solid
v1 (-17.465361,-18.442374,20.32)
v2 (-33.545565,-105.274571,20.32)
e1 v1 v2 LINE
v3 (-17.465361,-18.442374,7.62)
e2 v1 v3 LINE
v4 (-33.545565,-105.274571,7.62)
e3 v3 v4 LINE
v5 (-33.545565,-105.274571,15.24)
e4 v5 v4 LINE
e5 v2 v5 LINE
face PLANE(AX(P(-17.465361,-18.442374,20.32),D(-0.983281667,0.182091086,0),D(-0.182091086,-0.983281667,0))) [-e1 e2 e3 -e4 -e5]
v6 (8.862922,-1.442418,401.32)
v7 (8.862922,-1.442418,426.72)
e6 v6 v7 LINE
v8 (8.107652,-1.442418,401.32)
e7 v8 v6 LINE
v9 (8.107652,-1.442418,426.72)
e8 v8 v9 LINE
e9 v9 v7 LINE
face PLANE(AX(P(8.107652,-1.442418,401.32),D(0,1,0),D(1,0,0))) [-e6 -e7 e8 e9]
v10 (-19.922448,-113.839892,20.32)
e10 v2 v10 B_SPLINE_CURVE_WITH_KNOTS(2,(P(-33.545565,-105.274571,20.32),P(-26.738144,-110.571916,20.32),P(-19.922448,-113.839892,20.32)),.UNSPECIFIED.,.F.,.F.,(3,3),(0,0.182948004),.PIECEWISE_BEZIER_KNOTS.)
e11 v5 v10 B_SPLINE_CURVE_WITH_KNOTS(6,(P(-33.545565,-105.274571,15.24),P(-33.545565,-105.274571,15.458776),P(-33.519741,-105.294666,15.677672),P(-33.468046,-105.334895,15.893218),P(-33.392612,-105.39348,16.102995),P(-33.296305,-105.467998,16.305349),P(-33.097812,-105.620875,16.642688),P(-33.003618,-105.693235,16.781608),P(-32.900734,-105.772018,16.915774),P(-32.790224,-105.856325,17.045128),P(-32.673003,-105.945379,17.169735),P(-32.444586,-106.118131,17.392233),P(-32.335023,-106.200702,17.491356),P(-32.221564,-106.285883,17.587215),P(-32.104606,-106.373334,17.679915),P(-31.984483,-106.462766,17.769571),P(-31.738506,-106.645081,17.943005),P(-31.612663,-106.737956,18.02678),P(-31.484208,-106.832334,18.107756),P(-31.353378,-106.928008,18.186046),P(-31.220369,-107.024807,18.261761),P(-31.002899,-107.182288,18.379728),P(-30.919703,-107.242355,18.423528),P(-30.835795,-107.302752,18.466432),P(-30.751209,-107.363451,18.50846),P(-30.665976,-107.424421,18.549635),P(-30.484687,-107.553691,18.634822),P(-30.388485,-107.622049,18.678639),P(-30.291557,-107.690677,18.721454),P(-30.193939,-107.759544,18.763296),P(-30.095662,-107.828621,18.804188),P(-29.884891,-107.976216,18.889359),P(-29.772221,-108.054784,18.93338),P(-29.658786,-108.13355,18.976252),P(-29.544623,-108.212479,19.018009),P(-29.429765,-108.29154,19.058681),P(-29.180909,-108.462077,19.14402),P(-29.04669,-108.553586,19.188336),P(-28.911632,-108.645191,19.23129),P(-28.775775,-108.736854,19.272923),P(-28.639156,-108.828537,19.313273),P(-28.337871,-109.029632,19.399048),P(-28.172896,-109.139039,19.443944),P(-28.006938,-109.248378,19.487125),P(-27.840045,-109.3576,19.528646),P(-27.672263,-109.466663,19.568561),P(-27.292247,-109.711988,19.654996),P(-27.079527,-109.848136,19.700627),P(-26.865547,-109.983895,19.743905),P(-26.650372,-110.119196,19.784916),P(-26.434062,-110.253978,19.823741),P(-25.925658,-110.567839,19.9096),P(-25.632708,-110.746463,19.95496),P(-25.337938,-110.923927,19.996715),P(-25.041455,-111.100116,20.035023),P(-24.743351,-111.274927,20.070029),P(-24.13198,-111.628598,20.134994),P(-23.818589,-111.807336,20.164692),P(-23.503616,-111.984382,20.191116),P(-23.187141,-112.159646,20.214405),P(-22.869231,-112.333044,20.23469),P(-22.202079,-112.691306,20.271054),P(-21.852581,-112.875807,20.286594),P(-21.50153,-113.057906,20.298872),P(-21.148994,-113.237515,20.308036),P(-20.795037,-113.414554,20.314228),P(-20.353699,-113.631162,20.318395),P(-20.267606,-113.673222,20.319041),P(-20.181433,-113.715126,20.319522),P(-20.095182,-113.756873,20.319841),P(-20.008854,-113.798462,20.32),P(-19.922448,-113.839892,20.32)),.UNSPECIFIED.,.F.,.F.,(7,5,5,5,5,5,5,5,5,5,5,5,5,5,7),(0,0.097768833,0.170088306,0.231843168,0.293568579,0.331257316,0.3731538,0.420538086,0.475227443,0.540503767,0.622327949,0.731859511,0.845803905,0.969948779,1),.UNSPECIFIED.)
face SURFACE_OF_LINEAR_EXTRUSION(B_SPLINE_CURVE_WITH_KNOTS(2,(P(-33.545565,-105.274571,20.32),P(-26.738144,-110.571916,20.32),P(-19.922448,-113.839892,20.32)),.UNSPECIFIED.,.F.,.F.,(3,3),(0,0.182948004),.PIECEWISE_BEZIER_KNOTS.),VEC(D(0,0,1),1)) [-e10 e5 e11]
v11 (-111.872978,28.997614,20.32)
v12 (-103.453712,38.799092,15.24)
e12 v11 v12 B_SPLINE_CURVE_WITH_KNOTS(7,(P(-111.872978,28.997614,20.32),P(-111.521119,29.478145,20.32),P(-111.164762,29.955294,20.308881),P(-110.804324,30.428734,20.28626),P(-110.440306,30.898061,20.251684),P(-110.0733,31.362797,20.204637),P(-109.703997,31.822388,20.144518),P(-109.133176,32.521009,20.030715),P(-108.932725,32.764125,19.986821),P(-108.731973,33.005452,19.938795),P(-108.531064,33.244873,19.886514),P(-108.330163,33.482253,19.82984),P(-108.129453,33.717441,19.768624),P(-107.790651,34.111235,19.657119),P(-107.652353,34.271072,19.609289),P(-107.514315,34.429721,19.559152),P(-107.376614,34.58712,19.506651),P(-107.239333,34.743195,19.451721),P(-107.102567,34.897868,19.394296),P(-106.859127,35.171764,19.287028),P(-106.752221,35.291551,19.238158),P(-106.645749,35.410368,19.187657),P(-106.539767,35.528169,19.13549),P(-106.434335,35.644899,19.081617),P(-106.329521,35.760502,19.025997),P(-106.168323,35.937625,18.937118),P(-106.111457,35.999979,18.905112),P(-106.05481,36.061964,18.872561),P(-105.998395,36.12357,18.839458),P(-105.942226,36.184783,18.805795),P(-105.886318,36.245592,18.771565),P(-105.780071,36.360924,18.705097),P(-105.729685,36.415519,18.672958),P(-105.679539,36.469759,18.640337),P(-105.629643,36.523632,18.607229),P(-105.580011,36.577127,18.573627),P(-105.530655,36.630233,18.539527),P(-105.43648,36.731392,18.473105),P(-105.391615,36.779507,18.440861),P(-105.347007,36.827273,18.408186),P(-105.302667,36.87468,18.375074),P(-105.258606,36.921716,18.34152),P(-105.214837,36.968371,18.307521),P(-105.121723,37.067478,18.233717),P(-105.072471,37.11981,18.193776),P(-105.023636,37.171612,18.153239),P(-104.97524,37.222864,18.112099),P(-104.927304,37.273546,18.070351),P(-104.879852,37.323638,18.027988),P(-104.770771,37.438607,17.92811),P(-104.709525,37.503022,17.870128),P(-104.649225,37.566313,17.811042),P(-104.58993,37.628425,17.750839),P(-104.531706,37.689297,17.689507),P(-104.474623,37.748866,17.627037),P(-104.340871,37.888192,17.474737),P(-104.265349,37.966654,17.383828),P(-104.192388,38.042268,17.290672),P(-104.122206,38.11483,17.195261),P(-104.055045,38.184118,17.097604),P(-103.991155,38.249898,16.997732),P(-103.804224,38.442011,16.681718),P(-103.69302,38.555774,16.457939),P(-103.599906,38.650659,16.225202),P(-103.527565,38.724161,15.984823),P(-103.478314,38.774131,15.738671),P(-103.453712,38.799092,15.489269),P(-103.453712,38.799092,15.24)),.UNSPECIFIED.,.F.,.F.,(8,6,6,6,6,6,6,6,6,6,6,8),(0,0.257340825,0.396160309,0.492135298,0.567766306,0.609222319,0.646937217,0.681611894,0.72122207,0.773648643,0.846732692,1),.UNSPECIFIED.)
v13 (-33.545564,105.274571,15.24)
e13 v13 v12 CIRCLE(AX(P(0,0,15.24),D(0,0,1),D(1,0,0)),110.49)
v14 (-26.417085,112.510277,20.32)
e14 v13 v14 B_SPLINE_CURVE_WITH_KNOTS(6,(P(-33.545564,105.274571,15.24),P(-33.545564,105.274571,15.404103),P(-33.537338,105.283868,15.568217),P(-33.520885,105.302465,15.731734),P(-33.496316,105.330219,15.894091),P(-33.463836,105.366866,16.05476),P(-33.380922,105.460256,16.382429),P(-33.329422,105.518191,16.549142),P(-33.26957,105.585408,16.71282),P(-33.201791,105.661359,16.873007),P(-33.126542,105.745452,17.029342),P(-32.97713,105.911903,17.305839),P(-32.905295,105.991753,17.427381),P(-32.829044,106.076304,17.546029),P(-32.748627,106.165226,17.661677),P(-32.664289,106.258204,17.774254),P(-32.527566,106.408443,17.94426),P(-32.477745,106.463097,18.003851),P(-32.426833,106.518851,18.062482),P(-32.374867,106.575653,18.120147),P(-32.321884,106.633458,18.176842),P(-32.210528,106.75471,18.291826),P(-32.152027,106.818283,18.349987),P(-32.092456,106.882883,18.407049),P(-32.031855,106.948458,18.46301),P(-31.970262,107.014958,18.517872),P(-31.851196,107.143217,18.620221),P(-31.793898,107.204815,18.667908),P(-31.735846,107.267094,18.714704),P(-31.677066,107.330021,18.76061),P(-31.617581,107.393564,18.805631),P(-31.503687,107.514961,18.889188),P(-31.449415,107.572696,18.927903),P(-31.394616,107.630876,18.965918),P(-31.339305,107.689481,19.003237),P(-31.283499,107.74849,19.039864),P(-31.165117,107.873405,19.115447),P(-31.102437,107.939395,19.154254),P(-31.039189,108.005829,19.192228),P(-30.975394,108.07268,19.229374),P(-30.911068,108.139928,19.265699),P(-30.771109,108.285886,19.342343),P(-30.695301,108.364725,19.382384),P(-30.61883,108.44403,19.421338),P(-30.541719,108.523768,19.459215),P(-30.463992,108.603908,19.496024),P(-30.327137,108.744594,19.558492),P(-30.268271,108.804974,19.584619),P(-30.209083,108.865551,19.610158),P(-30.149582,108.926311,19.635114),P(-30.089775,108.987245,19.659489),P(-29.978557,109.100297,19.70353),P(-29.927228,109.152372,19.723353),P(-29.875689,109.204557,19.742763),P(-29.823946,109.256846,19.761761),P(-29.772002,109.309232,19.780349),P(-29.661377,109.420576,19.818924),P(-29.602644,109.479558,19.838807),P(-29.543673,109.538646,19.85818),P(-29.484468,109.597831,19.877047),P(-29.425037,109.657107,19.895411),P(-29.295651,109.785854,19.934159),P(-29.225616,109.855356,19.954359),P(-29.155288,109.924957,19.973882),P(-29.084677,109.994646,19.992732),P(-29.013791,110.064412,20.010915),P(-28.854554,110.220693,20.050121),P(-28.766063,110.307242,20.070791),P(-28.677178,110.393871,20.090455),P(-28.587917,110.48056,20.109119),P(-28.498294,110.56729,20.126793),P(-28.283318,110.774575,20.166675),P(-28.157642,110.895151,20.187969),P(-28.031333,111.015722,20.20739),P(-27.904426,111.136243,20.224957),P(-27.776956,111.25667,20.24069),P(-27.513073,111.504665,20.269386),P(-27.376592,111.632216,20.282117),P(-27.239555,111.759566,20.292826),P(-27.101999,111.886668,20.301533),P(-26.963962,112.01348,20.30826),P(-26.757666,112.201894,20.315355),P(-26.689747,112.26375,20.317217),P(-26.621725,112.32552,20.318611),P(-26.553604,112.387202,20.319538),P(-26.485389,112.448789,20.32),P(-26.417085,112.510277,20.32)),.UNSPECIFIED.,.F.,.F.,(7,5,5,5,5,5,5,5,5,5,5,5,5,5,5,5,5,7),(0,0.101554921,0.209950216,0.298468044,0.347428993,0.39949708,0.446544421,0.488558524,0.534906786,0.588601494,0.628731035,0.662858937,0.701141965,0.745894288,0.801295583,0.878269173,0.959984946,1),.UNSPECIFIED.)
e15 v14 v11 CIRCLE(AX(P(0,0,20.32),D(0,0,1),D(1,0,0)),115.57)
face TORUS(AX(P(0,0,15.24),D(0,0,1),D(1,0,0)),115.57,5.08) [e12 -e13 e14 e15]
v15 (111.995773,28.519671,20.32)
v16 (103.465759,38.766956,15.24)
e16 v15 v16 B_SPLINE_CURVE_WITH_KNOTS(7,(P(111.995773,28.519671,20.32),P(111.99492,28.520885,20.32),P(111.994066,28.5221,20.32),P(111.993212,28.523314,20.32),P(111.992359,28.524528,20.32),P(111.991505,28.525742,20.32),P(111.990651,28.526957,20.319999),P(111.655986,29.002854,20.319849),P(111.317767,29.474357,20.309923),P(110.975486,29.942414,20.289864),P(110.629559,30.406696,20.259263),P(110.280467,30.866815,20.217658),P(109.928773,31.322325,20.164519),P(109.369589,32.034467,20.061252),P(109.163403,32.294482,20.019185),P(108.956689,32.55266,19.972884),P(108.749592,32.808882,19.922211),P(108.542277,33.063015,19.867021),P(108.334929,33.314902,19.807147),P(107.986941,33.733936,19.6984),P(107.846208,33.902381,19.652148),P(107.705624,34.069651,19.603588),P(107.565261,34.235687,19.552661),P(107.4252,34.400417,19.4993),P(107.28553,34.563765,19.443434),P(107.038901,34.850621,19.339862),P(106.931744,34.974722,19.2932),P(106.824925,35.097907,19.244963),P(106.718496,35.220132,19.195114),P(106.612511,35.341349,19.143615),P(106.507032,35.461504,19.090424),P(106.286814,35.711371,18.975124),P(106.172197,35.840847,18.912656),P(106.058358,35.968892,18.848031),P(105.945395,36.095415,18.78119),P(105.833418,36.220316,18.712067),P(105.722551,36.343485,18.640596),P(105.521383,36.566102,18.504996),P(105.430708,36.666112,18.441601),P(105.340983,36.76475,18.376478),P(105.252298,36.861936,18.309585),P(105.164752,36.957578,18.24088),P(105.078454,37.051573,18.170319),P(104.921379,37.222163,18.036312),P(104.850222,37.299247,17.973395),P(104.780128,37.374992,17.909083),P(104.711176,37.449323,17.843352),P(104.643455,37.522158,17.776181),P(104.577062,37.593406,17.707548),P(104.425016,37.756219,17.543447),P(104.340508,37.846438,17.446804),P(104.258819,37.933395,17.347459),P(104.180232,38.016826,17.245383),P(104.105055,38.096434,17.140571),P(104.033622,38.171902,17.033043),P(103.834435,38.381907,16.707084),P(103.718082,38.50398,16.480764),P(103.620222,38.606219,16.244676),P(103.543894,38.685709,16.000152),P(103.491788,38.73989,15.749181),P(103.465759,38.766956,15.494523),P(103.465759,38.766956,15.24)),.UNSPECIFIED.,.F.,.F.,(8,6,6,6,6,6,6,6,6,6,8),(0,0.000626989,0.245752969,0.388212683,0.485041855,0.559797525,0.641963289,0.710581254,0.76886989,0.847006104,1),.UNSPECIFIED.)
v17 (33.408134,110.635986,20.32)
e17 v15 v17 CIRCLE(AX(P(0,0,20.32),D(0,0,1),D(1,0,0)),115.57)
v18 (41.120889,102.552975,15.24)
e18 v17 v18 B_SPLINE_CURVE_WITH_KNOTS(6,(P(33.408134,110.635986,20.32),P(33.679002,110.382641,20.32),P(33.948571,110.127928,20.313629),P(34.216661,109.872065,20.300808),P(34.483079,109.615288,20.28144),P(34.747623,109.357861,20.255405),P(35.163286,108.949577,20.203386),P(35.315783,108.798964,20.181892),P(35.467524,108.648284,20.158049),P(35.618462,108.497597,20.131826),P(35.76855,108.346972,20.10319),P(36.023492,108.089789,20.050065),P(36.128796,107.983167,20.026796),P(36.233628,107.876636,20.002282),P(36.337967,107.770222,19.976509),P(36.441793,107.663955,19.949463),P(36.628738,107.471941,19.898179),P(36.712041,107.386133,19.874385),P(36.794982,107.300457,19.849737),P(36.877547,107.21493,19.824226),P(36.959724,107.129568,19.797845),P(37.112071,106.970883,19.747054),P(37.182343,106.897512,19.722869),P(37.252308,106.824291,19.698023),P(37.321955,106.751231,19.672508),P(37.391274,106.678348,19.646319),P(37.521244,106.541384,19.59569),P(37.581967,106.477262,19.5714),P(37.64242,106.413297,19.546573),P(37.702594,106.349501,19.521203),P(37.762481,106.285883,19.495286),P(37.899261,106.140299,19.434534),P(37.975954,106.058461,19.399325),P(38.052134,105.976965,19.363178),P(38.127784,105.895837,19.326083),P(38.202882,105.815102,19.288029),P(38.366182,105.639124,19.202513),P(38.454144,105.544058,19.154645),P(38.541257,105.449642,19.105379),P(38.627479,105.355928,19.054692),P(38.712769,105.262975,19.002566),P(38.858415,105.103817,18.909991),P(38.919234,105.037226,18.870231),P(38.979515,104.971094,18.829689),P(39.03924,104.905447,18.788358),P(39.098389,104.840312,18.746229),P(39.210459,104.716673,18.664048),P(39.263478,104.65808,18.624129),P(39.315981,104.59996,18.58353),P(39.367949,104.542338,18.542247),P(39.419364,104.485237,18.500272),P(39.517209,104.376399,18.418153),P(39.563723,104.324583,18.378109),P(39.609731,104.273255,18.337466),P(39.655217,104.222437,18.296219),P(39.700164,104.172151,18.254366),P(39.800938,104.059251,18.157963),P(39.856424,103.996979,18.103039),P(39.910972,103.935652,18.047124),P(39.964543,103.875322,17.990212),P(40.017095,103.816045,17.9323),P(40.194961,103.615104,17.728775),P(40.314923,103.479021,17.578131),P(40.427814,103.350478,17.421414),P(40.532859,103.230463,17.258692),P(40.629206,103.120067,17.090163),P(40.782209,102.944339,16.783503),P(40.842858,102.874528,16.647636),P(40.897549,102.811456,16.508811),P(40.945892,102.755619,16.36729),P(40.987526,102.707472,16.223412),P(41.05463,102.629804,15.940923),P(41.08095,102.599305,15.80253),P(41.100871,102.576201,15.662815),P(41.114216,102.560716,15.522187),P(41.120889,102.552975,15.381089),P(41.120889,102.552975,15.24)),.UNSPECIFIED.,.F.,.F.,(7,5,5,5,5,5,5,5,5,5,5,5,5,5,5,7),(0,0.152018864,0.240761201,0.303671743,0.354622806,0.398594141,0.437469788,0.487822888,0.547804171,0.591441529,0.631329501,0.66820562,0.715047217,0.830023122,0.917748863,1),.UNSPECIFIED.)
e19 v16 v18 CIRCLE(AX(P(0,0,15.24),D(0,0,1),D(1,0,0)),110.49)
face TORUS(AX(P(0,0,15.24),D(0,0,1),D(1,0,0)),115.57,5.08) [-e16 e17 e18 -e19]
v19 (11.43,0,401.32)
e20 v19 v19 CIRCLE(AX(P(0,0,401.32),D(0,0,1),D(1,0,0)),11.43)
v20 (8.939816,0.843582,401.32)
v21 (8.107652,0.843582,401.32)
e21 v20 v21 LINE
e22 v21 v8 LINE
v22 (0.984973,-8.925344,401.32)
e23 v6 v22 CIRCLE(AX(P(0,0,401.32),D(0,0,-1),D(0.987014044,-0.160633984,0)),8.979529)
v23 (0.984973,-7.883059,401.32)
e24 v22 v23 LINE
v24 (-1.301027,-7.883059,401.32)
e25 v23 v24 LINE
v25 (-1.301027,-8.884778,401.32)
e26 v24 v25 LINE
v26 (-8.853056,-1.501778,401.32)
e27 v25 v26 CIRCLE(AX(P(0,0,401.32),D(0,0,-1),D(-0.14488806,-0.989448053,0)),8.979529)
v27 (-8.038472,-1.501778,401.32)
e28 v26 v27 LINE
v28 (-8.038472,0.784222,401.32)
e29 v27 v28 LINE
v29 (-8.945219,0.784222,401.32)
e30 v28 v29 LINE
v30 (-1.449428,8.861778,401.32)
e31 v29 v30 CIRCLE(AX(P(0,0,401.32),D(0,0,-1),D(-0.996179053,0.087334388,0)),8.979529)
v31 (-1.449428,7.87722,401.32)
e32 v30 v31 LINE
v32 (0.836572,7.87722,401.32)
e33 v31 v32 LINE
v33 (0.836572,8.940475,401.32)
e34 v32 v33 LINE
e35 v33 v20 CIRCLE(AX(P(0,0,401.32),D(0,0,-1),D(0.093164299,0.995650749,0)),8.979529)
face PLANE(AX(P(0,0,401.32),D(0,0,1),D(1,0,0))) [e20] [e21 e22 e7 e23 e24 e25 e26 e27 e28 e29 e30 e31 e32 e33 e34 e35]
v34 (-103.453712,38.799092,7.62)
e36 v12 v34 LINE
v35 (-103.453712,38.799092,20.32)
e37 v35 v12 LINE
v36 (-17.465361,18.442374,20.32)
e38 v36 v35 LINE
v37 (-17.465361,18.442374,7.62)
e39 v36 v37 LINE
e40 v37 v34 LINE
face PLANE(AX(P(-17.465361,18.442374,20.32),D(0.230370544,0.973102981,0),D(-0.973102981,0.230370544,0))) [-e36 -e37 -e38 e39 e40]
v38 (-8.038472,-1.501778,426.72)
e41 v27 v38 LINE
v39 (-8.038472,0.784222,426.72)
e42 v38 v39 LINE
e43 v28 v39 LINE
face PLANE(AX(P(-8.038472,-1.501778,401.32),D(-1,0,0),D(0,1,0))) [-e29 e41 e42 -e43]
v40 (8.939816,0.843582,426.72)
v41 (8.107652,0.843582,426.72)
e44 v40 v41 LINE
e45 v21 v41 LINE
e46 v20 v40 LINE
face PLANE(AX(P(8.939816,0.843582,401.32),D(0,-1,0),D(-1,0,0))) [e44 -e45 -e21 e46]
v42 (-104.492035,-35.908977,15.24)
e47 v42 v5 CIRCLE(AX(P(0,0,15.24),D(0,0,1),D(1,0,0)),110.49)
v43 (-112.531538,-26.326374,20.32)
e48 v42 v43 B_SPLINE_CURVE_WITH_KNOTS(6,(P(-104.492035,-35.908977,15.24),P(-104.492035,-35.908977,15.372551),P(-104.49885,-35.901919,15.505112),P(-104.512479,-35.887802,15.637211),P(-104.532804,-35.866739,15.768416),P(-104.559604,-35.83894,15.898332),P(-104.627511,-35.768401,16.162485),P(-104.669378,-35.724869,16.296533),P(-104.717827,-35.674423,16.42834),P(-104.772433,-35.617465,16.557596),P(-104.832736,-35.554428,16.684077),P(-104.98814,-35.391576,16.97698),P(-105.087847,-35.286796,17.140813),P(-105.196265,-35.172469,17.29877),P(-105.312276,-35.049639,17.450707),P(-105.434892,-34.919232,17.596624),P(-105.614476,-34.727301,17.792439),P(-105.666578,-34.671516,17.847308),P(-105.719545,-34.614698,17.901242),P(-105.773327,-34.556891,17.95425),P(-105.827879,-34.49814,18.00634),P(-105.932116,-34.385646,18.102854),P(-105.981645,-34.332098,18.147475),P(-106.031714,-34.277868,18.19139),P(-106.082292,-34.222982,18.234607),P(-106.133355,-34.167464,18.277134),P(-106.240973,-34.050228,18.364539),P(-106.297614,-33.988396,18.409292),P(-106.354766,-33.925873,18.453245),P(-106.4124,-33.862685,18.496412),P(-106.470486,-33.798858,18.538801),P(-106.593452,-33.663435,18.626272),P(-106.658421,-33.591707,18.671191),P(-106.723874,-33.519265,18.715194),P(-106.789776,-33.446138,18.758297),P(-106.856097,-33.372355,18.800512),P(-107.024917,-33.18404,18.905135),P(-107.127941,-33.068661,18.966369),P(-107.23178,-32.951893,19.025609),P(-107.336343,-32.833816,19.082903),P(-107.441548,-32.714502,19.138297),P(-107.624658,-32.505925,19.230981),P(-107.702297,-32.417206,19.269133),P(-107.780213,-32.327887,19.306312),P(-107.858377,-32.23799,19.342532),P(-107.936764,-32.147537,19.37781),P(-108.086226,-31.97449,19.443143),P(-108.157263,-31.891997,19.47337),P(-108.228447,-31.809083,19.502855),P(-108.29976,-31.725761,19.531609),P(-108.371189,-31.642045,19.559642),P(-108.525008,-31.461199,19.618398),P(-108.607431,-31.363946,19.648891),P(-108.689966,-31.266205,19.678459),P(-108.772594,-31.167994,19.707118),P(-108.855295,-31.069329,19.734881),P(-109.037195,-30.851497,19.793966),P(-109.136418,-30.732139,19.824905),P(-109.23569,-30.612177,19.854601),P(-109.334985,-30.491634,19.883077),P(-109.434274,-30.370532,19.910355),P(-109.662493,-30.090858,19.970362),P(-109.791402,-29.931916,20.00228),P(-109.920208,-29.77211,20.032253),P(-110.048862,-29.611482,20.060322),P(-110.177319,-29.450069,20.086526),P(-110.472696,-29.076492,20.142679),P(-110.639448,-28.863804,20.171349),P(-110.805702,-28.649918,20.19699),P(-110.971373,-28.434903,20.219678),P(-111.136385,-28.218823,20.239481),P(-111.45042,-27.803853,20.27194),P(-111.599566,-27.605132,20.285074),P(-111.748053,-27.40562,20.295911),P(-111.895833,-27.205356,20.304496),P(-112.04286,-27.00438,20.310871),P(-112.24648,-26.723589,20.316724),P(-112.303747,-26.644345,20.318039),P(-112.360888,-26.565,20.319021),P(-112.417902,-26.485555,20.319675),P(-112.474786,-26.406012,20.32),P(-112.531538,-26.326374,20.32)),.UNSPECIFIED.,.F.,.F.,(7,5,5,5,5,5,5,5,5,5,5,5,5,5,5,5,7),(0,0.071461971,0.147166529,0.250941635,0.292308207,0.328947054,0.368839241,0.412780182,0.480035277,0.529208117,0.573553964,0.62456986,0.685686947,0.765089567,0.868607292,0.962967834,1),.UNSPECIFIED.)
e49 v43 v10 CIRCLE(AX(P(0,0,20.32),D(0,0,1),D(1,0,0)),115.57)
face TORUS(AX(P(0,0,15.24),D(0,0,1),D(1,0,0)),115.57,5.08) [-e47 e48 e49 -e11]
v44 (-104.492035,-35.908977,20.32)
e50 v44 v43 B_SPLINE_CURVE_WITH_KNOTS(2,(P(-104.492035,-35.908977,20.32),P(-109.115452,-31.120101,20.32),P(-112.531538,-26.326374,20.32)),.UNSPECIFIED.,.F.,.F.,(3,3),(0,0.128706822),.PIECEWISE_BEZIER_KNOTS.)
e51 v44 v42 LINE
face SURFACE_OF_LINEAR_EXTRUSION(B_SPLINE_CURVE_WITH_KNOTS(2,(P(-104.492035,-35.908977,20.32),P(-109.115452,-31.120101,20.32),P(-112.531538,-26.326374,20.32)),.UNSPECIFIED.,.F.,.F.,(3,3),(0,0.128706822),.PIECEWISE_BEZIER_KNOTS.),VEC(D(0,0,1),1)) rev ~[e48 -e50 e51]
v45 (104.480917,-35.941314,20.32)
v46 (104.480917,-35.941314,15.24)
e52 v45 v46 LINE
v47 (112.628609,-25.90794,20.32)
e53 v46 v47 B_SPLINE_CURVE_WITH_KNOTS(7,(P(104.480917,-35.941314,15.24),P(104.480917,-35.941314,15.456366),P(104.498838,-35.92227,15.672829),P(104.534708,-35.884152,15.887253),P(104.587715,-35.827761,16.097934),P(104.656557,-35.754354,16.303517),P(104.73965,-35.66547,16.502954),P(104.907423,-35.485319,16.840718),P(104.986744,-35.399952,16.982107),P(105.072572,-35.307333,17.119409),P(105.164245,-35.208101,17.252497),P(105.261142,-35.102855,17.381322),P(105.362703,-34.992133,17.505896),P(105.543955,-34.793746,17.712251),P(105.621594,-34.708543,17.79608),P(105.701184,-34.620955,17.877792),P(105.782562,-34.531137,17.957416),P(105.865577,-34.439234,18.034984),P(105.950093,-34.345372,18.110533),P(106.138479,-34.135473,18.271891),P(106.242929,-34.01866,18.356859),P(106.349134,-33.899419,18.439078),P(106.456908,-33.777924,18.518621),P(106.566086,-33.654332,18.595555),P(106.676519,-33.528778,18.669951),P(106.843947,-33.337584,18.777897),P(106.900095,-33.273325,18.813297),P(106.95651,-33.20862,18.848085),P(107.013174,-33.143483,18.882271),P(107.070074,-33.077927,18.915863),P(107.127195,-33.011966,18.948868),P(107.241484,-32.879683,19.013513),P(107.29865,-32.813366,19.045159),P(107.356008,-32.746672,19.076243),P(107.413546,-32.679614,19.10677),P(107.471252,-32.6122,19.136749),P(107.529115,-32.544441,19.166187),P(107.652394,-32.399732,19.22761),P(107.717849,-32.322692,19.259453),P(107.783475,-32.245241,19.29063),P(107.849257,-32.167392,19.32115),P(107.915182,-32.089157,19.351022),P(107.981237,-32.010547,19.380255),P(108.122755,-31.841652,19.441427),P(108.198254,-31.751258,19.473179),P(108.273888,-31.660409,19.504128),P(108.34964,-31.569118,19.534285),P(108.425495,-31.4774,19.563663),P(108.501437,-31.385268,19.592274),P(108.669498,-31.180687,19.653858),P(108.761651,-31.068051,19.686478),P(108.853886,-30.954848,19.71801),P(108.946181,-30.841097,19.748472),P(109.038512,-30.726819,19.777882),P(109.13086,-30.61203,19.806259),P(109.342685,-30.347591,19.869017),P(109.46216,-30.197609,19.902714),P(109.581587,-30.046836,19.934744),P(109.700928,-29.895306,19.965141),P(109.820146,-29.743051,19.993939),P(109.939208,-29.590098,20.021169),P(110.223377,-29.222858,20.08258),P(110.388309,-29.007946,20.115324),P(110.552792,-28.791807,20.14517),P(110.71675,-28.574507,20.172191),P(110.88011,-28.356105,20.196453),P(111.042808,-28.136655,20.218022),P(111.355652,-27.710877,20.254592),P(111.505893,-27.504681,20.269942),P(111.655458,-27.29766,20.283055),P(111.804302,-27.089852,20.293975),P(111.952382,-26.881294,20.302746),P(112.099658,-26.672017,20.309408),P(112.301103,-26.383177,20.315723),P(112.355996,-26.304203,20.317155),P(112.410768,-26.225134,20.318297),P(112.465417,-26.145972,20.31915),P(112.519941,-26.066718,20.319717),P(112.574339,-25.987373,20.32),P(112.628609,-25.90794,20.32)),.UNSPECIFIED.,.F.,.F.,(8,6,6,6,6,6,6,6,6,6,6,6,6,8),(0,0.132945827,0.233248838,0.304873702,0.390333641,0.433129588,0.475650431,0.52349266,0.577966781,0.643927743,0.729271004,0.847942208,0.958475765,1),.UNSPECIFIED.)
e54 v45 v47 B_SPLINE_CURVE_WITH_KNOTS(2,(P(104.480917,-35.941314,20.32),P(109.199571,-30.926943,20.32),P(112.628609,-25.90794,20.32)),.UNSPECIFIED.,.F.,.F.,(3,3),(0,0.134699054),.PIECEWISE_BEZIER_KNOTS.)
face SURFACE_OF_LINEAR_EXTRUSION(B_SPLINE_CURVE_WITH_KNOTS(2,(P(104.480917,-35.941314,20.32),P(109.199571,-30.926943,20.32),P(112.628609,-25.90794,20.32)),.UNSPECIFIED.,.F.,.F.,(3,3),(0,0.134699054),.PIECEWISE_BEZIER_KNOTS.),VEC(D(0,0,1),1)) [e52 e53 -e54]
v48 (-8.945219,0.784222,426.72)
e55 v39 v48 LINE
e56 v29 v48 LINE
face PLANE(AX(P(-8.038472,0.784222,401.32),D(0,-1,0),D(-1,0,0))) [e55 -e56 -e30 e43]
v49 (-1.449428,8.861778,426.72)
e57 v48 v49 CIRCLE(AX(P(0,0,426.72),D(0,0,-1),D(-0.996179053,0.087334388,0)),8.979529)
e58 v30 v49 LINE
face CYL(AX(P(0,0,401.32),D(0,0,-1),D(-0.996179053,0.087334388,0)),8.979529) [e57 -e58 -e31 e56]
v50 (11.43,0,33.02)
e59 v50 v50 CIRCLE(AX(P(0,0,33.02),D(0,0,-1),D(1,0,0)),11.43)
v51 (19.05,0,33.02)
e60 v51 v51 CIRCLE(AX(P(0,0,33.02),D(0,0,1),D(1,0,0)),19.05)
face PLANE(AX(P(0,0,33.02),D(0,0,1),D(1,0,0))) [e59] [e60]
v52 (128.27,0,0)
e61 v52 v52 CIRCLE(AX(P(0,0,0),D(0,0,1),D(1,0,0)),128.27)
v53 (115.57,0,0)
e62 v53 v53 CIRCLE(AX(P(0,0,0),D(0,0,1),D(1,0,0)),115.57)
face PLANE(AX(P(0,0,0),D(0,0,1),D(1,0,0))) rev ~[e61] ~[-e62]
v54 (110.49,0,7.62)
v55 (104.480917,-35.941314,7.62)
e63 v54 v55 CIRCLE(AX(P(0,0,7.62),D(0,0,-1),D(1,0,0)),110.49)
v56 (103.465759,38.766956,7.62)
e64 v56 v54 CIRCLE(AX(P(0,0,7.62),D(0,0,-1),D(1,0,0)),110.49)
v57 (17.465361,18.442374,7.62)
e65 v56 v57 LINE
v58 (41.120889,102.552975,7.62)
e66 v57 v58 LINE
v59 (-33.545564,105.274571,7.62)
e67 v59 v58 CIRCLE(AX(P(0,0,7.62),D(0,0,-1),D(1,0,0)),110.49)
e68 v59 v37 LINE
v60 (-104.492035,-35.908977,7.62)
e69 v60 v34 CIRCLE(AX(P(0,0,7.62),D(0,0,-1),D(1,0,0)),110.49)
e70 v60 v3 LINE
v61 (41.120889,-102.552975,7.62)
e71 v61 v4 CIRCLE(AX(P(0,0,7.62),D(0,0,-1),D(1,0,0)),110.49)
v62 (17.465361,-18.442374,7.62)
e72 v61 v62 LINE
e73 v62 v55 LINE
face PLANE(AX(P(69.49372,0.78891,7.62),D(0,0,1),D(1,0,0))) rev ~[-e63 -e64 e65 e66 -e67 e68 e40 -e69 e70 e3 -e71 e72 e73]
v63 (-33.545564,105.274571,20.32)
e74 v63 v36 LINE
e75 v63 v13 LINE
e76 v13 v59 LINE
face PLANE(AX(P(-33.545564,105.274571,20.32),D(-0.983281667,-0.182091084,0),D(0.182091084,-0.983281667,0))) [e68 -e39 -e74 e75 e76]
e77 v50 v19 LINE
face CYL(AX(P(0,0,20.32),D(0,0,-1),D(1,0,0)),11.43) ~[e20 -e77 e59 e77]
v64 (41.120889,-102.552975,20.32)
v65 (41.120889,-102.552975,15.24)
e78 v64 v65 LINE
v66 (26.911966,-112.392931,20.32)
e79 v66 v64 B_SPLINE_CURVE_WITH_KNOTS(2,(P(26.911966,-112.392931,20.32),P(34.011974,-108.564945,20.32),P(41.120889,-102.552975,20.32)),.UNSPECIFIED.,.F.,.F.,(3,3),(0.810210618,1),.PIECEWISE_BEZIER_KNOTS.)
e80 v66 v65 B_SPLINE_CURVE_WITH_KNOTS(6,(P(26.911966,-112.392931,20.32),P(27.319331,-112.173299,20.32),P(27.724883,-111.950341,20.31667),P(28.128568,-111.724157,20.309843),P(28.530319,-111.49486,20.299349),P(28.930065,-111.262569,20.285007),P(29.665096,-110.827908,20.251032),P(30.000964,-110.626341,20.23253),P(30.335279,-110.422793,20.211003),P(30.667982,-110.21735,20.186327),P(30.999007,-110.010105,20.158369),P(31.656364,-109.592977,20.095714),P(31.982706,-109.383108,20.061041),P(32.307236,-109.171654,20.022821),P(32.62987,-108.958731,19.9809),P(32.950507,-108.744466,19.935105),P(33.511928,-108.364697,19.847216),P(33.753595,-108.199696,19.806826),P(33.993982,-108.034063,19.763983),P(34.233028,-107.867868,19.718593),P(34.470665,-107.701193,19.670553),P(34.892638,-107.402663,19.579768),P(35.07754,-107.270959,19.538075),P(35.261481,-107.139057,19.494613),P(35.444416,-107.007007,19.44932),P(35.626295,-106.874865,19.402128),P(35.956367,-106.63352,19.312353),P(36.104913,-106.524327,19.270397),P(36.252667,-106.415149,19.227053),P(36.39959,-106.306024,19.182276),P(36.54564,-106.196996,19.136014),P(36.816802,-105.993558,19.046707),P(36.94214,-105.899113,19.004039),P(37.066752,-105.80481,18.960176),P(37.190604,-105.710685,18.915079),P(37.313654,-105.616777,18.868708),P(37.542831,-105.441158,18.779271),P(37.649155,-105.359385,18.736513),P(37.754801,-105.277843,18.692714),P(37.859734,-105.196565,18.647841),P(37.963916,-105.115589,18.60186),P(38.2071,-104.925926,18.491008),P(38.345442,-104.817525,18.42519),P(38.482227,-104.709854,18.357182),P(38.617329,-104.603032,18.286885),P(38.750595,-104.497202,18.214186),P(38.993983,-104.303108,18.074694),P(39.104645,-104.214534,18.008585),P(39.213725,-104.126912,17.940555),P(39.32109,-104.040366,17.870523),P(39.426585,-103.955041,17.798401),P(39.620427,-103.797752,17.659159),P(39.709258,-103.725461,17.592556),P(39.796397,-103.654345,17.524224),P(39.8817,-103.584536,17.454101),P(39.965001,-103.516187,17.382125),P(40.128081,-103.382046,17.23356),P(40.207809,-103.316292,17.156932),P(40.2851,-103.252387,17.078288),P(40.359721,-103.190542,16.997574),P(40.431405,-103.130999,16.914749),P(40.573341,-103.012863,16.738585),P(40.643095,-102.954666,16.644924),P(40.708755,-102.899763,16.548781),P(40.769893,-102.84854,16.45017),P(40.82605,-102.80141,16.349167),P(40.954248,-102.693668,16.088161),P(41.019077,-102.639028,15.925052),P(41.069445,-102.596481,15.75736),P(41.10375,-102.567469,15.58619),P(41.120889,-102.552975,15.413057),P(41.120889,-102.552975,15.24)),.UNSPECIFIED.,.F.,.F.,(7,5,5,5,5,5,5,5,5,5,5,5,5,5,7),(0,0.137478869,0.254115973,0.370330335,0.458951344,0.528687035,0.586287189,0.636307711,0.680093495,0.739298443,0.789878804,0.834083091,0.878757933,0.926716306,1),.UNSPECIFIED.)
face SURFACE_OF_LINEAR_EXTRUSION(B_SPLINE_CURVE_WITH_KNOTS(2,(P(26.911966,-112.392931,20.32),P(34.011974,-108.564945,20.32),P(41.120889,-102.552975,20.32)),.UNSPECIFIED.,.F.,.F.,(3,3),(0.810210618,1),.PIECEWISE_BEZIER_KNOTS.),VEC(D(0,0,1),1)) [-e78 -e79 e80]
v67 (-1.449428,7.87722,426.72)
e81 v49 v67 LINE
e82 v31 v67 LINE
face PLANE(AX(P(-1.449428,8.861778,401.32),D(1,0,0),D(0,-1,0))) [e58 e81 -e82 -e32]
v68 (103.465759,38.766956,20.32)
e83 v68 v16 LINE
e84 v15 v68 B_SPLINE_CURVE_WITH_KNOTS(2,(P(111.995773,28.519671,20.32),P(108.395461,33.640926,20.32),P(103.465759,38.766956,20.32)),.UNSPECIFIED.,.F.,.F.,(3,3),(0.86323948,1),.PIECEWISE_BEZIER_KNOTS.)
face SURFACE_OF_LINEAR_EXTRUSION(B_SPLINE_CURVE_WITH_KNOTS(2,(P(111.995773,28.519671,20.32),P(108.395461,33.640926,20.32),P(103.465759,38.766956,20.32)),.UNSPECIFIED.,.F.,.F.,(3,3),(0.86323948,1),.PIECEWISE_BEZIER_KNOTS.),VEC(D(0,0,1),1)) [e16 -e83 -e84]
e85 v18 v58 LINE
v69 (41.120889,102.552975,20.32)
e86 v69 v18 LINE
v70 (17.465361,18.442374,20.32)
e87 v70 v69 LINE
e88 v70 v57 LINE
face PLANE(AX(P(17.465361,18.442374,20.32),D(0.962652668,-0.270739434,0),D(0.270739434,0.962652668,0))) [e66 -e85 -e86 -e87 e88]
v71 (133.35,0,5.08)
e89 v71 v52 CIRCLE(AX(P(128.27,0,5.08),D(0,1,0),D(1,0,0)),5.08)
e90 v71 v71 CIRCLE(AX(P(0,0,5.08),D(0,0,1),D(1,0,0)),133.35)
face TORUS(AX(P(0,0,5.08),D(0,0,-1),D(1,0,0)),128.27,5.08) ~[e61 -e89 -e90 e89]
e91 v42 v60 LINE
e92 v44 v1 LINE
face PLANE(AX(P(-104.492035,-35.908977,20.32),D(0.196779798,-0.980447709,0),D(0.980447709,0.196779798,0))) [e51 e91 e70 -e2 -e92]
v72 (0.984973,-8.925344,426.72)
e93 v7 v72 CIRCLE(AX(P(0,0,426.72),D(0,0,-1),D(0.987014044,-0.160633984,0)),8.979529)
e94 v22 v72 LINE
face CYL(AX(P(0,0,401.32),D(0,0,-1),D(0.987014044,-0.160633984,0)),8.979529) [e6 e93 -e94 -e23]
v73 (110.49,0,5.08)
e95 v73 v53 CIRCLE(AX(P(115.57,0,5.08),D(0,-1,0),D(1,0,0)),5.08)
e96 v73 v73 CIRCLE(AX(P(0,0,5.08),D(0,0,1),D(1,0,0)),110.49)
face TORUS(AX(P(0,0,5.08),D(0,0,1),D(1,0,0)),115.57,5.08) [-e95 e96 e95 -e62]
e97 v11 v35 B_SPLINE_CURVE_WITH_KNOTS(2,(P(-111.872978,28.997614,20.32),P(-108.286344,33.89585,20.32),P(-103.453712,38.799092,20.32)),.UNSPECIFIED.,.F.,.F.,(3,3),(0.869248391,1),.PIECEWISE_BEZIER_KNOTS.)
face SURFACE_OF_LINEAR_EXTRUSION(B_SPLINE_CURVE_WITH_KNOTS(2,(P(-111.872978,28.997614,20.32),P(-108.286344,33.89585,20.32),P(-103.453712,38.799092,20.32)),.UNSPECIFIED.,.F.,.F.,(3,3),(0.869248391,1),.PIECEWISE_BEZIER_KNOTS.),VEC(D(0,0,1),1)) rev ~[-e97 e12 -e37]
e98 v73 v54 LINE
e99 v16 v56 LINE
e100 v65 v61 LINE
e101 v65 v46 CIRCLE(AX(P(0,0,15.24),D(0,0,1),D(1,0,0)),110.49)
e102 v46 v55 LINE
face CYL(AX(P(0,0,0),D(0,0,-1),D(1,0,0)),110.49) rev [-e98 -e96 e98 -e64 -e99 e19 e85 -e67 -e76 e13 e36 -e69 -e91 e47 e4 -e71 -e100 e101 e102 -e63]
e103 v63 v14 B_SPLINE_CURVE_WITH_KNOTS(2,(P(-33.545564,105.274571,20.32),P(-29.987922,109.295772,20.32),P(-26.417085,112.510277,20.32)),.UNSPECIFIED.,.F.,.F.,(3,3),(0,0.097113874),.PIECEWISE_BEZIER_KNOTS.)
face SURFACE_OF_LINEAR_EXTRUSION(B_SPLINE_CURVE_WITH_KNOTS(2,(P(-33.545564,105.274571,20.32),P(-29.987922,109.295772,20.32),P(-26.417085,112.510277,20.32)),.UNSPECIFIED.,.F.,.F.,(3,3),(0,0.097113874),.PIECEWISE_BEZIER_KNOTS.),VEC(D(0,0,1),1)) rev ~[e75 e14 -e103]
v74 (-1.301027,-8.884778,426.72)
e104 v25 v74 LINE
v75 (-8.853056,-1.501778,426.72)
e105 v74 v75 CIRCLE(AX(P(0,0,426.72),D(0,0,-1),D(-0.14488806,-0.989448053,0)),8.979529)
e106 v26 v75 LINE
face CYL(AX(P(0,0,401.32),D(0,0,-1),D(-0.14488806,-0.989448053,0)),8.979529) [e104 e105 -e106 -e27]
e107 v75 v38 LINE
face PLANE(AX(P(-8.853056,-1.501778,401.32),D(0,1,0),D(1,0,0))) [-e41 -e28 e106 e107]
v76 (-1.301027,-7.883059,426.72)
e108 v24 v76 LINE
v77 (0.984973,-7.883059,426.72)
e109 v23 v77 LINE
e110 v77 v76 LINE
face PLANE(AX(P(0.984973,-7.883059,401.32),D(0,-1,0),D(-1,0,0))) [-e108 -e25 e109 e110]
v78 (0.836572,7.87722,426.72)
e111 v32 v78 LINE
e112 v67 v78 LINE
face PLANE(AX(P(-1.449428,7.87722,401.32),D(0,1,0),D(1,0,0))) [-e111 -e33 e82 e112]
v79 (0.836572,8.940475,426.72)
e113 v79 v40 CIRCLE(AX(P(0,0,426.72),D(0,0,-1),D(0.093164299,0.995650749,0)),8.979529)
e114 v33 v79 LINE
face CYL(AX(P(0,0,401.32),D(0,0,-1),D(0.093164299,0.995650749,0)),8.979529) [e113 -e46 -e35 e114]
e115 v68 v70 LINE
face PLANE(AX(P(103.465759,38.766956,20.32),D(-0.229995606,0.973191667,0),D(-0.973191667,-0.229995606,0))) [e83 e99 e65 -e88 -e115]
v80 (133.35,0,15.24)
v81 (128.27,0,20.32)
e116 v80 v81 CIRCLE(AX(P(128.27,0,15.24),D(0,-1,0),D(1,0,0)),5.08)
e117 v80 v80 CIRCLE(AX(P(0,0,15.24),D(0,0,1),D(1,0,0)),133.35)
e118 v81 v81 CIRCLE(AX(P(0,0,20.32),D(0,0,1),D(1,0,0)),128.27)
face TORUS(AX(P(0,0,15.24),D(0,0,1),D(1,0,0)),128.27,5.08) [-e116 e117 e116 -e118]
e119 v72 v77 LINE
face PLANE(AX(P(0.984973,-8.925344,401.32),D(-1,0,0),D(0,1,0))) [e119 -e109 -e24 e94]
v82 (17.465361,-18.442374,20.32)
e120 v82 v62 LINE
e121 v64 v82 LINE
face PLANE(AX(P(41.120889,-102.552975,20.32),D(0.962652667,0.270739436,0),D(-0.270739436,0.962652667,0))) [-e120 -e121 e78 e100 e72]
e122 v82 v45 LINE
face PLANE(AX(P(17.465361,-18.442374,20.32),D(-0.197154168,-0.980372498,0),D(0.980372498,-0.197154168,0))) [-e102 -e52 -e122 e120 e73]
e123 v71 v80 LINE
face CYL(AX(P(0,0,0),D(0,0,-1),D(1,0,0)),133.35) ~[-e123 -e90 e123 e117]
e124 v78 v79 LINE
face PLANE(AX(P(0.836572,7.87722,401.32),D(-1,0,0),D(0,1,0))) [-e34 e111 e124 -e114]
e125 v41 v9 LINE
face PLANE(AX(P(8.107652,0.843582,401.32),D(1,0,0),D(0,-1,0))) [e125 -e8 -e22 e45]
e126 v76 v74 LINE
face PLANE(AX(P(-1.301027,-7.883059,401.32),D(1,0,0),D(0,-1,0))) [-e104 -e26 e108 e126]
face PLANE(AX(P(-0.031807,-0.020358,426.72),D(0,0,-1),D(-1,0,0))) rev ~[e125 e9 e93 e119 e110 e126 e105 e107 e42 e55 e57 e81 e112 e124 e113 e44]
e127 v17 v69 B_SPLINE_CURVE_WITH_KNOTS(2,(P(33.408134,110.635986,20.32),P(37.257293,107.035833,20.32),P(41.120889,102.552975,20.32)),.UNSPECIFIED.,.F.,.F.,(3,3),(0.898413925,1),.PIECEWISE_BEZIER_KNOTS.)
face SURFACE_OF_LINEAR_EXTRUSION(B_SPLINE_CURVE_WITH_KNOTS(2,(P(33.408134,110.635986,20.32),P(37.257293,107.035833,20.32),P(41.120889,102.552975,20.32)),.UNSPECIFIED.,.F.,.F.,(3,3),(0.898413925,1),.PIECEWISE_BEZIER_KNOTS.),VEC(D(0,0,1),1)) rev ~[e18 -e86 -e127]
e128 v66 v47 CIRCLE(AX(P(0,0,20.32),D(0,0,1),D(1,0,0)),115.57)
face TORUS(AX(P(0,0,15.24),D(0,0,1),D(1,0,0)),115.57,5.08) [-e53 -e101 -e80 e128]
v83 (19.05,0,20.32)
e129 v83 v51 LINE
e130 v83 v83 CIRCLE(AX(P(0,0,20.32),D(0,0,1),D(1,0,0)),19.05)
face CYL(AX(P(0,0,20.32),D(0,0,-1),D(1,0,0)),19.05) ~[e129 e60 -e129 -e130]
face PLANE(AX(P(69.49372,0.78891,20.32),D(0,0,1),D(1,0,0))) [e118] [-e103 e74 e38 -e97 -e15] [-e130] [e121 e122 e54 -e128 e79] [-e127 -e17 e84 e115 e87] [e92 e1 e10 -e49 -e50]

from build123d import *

# Parameters (mm, degrees)
SKETCH1_R           = 133.35
SKETCH1_R_2         = 110.49
BOSS_EXTRUDE1_DEPTH = 20.32
FILLET1_R           = 5.08
FILLET4_R           = 5.08
FILLET5_R           = 5.08
FILLET6_R           = 5.08
SKETCH2_R           = 25.4
BOSS_EXTRUDE2_DEPTH = 12.7
SKETCH3_R           = 11.43
BOSS_EXTRUDE3_DEPTH = 381
BOSS_EXTRUDE4_DEPTH = 25.4
SKETCH5_R           = 19.05
BOSS_EXTRUDE5_DEPTH = 12.7


with BuildPart() as part:
    # Sketch1 → Boss-Extrude1 (new body)
    with BuildSketch(Plane.XY):
        Circle(SKETCH1_R)
        Circle(SKETCH1_R_2, mode=Mode.SUBTRACT)
    extrude(amount=BOSS_EXTRUDE1_DEPTH)

    # Fillet1
    fillet1_edges = [part.edges().sort_by_distance(p)[0] for p in [
        (-133.35, 0, 20.32),
    ]]
    fillet(fillet1_edges, radius=FILLET1_R)

    # Fillet4
    fillet4_edges = [part.edges().sort_by_distance(p)[0] for p in [
        (-133.35, 0, 0),
    ]]
    fillet(fillet4_edges, radius=FILLET4_R)

    # Fillet5
    fillet5_edges = [part.edges().sort_by_distance(p)[0] for p in [
        (-110.49, 0, 20.32),
    ]]
    fillet(fillet5_edges, radius=FILLET5_R)

    # Fillet6
    fillet6_edges = [part.edges().sort_by_distance(p)[0] for p in [
        (-110.49, 0, 0),
    ]]
    fillet(fillet6_edges, radius=FILLET6_R)



with BuildPart() as body_2:
    # Sketch2 → Boss-Extrude2 (new body)
    with BuildSketch(Plane.XY.offset(20.32)):
        with BuildLine():
            add(Edge.make_bspline(
                [(111.995773379, 28.519671196), (108.395461325, 33.640925655), (103.465758881, 38.766955506)],
                knots=[0.86323948, 0.86323948, 0.86323948, 1, 1, 1], degree=2))
            Line((103.465758881, 38.766955506), (17.465361403, 18.442373791))
            ThreePointArc((17.465361403, 18.442373791), (23.332168562, 10.038421698), (25.4, 0))
            ThreePointArc((25.4, 0), (23.332168562, -10.038421698), (17.465361403, -18.442373791))
            Line((17.465361403, -18.442373791), (104.480917214, -35.941313806))
            add(Edge.make_bspline(
                [(104.480917214, -35.941313806), (109.199570697, -30.926942984), (112.628608991, -25.907939648)],
                knots=[0, 0, 0, 0.134699054, 0.134699054, 0.134699054], degree=2))
            ThreePointArc((112.628608991, -25.907939648), (114.832297811, -13.037188327), (115.57, 0))
            ThreePointArc((115.57, 0), (114.672962004, 14.37138425), (111.995773379, 28.519671196))
        make_face()
        with BuildLine():
            ThreePointArc((-17.465361403, 18.442373791), (0, 25.4), (17.465361403, 18.442373791))
            Line((17.465361403, 18.442373791), (41.120888712, 102.55297466))
            add(Edge.make_bspline(
                [(33.408134269, 110.6359863), (37.257292789, 107.035833442), (41.120888712, 102.55297466)],
                knots=[0.898413925, 0.898413925, 0.898413925, 1, 1, 1], degree=2))
            ThreePointArc((33.408134269, 110.6359863), (3.618968694, 115.513323758), (-26.417084957, 112.510277408))
            add(Edge.make_bspline(
                [(-33.5455644, 105.274570572), (-29.987921782, 109.295772293), (-26.417084957, 112.510277408)],
                knots=[0, 0, 0, 0.097113874, 0.097113874, 0.097113874], degree=2))
            Line((-33.5455644, 105.274570572), (-17.465361403, 18.442373791))
        make_face()
        with BuildLine():
            Line((41.120888883, -102.552974591), (17.465361403, -18.442373791))
            ThreePointArc((17.465361403, -18.442373791), (0, -25.4), (-17.465361403, -18.442373791))
            Line((-17.465361403, -18.442373791), (-33.545564575, -105.274570516))
            add(Edge.make_bspline(
                [(-33.545564575, -105.274570516), (-26.738144431, -110.571915765), (-19.922448027, -113.839891798)],
                knots=[0, 0, 0, 0.182948004, 0.182948004, 0.182948004], degree=2))
            ThreePointArc((-19.922448027, -113.839891798), (3.568860133, -115.514882753), (26.911965601, -112.392931306))
            add(Edge.make_bspline(
                [(26.911965601, -112.392931306), (34.011973832, -108.564945177), (41.120888883, -102.552974591)],
                knots=[0.810210618, 0.810210618, 0.810210618, 1, 1, 1], degree=2))
        make_face()
        with BuildLine():
            ThreePointArc((-17.465361403, -18.442373791), (-25.4, 0), (-17.465361403, 18.442373791))
            Line((-17.465361403, 18.442373791), (-103.453712161, 38.799092001))
            add(Edge.make_bspline(
                [(-111.872978372, 28.997613871), (-108.286344087, 33.895850119), (-103.453712161, 38.799092001)],
                knots=[0.869248391, 0.869248391, 0.869248391, 1, 1, 1], degree=2))
            ThreePointArc((-111.872978372, 28.997613871), (-115.56181287, 1.375611191), (-112.531537583, -26.326373643))
            add(Edge.make_bspline(
                [(-104.492035357, -35.908977246), (-109.115451856, -31.120100592), (-112.531537583, -26.326373643)],
                knots=[0, 0, 0, 0.128706822, 0.128706822, 0.128706822], degree=2))
            Line((-104.492035357, -35.908977246), (-17.465361403, -18.442373791))
        make_face()
        Circle(SKETCH2_R)
    extrude(amount=-BOSS_EXTRUDE2_DEPTH)


with BuildPart() as part_1:
    add(part.part)

    add(body_2.part)  # Boss-Extrude3 merges body 2
    # Sketch3 → Boss-Extrude3 (add)
    with BuildSketch(Plane.XY.offset(20.32)):
        Circle(SKETCH3_R)
    extrude(amount=BOSS_EXTRUDE3_DEPTH)

    # Sketch4 → Boss-Extrude4 (add)
    with BuildSketch(Plane.XY.offset(401.32)):
        with BuildLine():
            Line((0.984973427, -8.925344441), (0.984973427, -7.883058907))
            Line((0.984973427, -7.883058907), (-1.301026573, -7.883058907))
            Line((-1.301026573, -7.883058907), (-1.301026573, -8.884777763))
            ThreePointArc((-1.301026573, -8.884777763), (-6.277222362, -6.420936494), (-8.853056418, -1.501778309))
            Line((-8.853056418, -1.501778309), (-8.038471669, -1.501778309))
            Line((-8.038471669, -1.501778309), (-8.038471669, 0.784221691))
            Line((-8.038471669, 0.784221691), (-8.945218968, 0.784221691))
            ThreePointArc((-8.945218968, 0.784221691), (-6.582089434, 6.108031166), (-1.449428448, 8.861777655))
            Line((-1.449428448, 8.861777655), (-1.449428448, 7.87722015))
            Line((-1.449428448, 7.87722015), (0.836571552, 7.87722015))
            Line((0.836571552, 7.87722015), (0.836571552, 8.940475048))
            ThreePointArc((0.836571552, 8.940475048), (6.346995913, 6.351975198), (8.939816257, 0.84358244))
            Line((8.939816257, 0.84358244), (8.107652261, 0.84358244))
            Line((8.107652261, 0.84358244), (8.107652261, -1.44241756))
            Line((8.107652261, -1.44241756), (8.862921506, -1.44241756))
            ThreePointArc((8.862921506, -1.44241756), (6.18415777, -6.510617383), (0.984973427, -8.925344441))
        make_face()
    extrude(amount=BOSS_EXTRUDE4_DEPTH)

    # Sketch5 → Boss-Extrude5 (add)
    with BuildSketch(Plane.XY.offset(20.32)):
        Circle(SKETCH5_R)
    extrude(amount=BOSS_EXTRUDE5_DEPTH)


solid = part_1.part
